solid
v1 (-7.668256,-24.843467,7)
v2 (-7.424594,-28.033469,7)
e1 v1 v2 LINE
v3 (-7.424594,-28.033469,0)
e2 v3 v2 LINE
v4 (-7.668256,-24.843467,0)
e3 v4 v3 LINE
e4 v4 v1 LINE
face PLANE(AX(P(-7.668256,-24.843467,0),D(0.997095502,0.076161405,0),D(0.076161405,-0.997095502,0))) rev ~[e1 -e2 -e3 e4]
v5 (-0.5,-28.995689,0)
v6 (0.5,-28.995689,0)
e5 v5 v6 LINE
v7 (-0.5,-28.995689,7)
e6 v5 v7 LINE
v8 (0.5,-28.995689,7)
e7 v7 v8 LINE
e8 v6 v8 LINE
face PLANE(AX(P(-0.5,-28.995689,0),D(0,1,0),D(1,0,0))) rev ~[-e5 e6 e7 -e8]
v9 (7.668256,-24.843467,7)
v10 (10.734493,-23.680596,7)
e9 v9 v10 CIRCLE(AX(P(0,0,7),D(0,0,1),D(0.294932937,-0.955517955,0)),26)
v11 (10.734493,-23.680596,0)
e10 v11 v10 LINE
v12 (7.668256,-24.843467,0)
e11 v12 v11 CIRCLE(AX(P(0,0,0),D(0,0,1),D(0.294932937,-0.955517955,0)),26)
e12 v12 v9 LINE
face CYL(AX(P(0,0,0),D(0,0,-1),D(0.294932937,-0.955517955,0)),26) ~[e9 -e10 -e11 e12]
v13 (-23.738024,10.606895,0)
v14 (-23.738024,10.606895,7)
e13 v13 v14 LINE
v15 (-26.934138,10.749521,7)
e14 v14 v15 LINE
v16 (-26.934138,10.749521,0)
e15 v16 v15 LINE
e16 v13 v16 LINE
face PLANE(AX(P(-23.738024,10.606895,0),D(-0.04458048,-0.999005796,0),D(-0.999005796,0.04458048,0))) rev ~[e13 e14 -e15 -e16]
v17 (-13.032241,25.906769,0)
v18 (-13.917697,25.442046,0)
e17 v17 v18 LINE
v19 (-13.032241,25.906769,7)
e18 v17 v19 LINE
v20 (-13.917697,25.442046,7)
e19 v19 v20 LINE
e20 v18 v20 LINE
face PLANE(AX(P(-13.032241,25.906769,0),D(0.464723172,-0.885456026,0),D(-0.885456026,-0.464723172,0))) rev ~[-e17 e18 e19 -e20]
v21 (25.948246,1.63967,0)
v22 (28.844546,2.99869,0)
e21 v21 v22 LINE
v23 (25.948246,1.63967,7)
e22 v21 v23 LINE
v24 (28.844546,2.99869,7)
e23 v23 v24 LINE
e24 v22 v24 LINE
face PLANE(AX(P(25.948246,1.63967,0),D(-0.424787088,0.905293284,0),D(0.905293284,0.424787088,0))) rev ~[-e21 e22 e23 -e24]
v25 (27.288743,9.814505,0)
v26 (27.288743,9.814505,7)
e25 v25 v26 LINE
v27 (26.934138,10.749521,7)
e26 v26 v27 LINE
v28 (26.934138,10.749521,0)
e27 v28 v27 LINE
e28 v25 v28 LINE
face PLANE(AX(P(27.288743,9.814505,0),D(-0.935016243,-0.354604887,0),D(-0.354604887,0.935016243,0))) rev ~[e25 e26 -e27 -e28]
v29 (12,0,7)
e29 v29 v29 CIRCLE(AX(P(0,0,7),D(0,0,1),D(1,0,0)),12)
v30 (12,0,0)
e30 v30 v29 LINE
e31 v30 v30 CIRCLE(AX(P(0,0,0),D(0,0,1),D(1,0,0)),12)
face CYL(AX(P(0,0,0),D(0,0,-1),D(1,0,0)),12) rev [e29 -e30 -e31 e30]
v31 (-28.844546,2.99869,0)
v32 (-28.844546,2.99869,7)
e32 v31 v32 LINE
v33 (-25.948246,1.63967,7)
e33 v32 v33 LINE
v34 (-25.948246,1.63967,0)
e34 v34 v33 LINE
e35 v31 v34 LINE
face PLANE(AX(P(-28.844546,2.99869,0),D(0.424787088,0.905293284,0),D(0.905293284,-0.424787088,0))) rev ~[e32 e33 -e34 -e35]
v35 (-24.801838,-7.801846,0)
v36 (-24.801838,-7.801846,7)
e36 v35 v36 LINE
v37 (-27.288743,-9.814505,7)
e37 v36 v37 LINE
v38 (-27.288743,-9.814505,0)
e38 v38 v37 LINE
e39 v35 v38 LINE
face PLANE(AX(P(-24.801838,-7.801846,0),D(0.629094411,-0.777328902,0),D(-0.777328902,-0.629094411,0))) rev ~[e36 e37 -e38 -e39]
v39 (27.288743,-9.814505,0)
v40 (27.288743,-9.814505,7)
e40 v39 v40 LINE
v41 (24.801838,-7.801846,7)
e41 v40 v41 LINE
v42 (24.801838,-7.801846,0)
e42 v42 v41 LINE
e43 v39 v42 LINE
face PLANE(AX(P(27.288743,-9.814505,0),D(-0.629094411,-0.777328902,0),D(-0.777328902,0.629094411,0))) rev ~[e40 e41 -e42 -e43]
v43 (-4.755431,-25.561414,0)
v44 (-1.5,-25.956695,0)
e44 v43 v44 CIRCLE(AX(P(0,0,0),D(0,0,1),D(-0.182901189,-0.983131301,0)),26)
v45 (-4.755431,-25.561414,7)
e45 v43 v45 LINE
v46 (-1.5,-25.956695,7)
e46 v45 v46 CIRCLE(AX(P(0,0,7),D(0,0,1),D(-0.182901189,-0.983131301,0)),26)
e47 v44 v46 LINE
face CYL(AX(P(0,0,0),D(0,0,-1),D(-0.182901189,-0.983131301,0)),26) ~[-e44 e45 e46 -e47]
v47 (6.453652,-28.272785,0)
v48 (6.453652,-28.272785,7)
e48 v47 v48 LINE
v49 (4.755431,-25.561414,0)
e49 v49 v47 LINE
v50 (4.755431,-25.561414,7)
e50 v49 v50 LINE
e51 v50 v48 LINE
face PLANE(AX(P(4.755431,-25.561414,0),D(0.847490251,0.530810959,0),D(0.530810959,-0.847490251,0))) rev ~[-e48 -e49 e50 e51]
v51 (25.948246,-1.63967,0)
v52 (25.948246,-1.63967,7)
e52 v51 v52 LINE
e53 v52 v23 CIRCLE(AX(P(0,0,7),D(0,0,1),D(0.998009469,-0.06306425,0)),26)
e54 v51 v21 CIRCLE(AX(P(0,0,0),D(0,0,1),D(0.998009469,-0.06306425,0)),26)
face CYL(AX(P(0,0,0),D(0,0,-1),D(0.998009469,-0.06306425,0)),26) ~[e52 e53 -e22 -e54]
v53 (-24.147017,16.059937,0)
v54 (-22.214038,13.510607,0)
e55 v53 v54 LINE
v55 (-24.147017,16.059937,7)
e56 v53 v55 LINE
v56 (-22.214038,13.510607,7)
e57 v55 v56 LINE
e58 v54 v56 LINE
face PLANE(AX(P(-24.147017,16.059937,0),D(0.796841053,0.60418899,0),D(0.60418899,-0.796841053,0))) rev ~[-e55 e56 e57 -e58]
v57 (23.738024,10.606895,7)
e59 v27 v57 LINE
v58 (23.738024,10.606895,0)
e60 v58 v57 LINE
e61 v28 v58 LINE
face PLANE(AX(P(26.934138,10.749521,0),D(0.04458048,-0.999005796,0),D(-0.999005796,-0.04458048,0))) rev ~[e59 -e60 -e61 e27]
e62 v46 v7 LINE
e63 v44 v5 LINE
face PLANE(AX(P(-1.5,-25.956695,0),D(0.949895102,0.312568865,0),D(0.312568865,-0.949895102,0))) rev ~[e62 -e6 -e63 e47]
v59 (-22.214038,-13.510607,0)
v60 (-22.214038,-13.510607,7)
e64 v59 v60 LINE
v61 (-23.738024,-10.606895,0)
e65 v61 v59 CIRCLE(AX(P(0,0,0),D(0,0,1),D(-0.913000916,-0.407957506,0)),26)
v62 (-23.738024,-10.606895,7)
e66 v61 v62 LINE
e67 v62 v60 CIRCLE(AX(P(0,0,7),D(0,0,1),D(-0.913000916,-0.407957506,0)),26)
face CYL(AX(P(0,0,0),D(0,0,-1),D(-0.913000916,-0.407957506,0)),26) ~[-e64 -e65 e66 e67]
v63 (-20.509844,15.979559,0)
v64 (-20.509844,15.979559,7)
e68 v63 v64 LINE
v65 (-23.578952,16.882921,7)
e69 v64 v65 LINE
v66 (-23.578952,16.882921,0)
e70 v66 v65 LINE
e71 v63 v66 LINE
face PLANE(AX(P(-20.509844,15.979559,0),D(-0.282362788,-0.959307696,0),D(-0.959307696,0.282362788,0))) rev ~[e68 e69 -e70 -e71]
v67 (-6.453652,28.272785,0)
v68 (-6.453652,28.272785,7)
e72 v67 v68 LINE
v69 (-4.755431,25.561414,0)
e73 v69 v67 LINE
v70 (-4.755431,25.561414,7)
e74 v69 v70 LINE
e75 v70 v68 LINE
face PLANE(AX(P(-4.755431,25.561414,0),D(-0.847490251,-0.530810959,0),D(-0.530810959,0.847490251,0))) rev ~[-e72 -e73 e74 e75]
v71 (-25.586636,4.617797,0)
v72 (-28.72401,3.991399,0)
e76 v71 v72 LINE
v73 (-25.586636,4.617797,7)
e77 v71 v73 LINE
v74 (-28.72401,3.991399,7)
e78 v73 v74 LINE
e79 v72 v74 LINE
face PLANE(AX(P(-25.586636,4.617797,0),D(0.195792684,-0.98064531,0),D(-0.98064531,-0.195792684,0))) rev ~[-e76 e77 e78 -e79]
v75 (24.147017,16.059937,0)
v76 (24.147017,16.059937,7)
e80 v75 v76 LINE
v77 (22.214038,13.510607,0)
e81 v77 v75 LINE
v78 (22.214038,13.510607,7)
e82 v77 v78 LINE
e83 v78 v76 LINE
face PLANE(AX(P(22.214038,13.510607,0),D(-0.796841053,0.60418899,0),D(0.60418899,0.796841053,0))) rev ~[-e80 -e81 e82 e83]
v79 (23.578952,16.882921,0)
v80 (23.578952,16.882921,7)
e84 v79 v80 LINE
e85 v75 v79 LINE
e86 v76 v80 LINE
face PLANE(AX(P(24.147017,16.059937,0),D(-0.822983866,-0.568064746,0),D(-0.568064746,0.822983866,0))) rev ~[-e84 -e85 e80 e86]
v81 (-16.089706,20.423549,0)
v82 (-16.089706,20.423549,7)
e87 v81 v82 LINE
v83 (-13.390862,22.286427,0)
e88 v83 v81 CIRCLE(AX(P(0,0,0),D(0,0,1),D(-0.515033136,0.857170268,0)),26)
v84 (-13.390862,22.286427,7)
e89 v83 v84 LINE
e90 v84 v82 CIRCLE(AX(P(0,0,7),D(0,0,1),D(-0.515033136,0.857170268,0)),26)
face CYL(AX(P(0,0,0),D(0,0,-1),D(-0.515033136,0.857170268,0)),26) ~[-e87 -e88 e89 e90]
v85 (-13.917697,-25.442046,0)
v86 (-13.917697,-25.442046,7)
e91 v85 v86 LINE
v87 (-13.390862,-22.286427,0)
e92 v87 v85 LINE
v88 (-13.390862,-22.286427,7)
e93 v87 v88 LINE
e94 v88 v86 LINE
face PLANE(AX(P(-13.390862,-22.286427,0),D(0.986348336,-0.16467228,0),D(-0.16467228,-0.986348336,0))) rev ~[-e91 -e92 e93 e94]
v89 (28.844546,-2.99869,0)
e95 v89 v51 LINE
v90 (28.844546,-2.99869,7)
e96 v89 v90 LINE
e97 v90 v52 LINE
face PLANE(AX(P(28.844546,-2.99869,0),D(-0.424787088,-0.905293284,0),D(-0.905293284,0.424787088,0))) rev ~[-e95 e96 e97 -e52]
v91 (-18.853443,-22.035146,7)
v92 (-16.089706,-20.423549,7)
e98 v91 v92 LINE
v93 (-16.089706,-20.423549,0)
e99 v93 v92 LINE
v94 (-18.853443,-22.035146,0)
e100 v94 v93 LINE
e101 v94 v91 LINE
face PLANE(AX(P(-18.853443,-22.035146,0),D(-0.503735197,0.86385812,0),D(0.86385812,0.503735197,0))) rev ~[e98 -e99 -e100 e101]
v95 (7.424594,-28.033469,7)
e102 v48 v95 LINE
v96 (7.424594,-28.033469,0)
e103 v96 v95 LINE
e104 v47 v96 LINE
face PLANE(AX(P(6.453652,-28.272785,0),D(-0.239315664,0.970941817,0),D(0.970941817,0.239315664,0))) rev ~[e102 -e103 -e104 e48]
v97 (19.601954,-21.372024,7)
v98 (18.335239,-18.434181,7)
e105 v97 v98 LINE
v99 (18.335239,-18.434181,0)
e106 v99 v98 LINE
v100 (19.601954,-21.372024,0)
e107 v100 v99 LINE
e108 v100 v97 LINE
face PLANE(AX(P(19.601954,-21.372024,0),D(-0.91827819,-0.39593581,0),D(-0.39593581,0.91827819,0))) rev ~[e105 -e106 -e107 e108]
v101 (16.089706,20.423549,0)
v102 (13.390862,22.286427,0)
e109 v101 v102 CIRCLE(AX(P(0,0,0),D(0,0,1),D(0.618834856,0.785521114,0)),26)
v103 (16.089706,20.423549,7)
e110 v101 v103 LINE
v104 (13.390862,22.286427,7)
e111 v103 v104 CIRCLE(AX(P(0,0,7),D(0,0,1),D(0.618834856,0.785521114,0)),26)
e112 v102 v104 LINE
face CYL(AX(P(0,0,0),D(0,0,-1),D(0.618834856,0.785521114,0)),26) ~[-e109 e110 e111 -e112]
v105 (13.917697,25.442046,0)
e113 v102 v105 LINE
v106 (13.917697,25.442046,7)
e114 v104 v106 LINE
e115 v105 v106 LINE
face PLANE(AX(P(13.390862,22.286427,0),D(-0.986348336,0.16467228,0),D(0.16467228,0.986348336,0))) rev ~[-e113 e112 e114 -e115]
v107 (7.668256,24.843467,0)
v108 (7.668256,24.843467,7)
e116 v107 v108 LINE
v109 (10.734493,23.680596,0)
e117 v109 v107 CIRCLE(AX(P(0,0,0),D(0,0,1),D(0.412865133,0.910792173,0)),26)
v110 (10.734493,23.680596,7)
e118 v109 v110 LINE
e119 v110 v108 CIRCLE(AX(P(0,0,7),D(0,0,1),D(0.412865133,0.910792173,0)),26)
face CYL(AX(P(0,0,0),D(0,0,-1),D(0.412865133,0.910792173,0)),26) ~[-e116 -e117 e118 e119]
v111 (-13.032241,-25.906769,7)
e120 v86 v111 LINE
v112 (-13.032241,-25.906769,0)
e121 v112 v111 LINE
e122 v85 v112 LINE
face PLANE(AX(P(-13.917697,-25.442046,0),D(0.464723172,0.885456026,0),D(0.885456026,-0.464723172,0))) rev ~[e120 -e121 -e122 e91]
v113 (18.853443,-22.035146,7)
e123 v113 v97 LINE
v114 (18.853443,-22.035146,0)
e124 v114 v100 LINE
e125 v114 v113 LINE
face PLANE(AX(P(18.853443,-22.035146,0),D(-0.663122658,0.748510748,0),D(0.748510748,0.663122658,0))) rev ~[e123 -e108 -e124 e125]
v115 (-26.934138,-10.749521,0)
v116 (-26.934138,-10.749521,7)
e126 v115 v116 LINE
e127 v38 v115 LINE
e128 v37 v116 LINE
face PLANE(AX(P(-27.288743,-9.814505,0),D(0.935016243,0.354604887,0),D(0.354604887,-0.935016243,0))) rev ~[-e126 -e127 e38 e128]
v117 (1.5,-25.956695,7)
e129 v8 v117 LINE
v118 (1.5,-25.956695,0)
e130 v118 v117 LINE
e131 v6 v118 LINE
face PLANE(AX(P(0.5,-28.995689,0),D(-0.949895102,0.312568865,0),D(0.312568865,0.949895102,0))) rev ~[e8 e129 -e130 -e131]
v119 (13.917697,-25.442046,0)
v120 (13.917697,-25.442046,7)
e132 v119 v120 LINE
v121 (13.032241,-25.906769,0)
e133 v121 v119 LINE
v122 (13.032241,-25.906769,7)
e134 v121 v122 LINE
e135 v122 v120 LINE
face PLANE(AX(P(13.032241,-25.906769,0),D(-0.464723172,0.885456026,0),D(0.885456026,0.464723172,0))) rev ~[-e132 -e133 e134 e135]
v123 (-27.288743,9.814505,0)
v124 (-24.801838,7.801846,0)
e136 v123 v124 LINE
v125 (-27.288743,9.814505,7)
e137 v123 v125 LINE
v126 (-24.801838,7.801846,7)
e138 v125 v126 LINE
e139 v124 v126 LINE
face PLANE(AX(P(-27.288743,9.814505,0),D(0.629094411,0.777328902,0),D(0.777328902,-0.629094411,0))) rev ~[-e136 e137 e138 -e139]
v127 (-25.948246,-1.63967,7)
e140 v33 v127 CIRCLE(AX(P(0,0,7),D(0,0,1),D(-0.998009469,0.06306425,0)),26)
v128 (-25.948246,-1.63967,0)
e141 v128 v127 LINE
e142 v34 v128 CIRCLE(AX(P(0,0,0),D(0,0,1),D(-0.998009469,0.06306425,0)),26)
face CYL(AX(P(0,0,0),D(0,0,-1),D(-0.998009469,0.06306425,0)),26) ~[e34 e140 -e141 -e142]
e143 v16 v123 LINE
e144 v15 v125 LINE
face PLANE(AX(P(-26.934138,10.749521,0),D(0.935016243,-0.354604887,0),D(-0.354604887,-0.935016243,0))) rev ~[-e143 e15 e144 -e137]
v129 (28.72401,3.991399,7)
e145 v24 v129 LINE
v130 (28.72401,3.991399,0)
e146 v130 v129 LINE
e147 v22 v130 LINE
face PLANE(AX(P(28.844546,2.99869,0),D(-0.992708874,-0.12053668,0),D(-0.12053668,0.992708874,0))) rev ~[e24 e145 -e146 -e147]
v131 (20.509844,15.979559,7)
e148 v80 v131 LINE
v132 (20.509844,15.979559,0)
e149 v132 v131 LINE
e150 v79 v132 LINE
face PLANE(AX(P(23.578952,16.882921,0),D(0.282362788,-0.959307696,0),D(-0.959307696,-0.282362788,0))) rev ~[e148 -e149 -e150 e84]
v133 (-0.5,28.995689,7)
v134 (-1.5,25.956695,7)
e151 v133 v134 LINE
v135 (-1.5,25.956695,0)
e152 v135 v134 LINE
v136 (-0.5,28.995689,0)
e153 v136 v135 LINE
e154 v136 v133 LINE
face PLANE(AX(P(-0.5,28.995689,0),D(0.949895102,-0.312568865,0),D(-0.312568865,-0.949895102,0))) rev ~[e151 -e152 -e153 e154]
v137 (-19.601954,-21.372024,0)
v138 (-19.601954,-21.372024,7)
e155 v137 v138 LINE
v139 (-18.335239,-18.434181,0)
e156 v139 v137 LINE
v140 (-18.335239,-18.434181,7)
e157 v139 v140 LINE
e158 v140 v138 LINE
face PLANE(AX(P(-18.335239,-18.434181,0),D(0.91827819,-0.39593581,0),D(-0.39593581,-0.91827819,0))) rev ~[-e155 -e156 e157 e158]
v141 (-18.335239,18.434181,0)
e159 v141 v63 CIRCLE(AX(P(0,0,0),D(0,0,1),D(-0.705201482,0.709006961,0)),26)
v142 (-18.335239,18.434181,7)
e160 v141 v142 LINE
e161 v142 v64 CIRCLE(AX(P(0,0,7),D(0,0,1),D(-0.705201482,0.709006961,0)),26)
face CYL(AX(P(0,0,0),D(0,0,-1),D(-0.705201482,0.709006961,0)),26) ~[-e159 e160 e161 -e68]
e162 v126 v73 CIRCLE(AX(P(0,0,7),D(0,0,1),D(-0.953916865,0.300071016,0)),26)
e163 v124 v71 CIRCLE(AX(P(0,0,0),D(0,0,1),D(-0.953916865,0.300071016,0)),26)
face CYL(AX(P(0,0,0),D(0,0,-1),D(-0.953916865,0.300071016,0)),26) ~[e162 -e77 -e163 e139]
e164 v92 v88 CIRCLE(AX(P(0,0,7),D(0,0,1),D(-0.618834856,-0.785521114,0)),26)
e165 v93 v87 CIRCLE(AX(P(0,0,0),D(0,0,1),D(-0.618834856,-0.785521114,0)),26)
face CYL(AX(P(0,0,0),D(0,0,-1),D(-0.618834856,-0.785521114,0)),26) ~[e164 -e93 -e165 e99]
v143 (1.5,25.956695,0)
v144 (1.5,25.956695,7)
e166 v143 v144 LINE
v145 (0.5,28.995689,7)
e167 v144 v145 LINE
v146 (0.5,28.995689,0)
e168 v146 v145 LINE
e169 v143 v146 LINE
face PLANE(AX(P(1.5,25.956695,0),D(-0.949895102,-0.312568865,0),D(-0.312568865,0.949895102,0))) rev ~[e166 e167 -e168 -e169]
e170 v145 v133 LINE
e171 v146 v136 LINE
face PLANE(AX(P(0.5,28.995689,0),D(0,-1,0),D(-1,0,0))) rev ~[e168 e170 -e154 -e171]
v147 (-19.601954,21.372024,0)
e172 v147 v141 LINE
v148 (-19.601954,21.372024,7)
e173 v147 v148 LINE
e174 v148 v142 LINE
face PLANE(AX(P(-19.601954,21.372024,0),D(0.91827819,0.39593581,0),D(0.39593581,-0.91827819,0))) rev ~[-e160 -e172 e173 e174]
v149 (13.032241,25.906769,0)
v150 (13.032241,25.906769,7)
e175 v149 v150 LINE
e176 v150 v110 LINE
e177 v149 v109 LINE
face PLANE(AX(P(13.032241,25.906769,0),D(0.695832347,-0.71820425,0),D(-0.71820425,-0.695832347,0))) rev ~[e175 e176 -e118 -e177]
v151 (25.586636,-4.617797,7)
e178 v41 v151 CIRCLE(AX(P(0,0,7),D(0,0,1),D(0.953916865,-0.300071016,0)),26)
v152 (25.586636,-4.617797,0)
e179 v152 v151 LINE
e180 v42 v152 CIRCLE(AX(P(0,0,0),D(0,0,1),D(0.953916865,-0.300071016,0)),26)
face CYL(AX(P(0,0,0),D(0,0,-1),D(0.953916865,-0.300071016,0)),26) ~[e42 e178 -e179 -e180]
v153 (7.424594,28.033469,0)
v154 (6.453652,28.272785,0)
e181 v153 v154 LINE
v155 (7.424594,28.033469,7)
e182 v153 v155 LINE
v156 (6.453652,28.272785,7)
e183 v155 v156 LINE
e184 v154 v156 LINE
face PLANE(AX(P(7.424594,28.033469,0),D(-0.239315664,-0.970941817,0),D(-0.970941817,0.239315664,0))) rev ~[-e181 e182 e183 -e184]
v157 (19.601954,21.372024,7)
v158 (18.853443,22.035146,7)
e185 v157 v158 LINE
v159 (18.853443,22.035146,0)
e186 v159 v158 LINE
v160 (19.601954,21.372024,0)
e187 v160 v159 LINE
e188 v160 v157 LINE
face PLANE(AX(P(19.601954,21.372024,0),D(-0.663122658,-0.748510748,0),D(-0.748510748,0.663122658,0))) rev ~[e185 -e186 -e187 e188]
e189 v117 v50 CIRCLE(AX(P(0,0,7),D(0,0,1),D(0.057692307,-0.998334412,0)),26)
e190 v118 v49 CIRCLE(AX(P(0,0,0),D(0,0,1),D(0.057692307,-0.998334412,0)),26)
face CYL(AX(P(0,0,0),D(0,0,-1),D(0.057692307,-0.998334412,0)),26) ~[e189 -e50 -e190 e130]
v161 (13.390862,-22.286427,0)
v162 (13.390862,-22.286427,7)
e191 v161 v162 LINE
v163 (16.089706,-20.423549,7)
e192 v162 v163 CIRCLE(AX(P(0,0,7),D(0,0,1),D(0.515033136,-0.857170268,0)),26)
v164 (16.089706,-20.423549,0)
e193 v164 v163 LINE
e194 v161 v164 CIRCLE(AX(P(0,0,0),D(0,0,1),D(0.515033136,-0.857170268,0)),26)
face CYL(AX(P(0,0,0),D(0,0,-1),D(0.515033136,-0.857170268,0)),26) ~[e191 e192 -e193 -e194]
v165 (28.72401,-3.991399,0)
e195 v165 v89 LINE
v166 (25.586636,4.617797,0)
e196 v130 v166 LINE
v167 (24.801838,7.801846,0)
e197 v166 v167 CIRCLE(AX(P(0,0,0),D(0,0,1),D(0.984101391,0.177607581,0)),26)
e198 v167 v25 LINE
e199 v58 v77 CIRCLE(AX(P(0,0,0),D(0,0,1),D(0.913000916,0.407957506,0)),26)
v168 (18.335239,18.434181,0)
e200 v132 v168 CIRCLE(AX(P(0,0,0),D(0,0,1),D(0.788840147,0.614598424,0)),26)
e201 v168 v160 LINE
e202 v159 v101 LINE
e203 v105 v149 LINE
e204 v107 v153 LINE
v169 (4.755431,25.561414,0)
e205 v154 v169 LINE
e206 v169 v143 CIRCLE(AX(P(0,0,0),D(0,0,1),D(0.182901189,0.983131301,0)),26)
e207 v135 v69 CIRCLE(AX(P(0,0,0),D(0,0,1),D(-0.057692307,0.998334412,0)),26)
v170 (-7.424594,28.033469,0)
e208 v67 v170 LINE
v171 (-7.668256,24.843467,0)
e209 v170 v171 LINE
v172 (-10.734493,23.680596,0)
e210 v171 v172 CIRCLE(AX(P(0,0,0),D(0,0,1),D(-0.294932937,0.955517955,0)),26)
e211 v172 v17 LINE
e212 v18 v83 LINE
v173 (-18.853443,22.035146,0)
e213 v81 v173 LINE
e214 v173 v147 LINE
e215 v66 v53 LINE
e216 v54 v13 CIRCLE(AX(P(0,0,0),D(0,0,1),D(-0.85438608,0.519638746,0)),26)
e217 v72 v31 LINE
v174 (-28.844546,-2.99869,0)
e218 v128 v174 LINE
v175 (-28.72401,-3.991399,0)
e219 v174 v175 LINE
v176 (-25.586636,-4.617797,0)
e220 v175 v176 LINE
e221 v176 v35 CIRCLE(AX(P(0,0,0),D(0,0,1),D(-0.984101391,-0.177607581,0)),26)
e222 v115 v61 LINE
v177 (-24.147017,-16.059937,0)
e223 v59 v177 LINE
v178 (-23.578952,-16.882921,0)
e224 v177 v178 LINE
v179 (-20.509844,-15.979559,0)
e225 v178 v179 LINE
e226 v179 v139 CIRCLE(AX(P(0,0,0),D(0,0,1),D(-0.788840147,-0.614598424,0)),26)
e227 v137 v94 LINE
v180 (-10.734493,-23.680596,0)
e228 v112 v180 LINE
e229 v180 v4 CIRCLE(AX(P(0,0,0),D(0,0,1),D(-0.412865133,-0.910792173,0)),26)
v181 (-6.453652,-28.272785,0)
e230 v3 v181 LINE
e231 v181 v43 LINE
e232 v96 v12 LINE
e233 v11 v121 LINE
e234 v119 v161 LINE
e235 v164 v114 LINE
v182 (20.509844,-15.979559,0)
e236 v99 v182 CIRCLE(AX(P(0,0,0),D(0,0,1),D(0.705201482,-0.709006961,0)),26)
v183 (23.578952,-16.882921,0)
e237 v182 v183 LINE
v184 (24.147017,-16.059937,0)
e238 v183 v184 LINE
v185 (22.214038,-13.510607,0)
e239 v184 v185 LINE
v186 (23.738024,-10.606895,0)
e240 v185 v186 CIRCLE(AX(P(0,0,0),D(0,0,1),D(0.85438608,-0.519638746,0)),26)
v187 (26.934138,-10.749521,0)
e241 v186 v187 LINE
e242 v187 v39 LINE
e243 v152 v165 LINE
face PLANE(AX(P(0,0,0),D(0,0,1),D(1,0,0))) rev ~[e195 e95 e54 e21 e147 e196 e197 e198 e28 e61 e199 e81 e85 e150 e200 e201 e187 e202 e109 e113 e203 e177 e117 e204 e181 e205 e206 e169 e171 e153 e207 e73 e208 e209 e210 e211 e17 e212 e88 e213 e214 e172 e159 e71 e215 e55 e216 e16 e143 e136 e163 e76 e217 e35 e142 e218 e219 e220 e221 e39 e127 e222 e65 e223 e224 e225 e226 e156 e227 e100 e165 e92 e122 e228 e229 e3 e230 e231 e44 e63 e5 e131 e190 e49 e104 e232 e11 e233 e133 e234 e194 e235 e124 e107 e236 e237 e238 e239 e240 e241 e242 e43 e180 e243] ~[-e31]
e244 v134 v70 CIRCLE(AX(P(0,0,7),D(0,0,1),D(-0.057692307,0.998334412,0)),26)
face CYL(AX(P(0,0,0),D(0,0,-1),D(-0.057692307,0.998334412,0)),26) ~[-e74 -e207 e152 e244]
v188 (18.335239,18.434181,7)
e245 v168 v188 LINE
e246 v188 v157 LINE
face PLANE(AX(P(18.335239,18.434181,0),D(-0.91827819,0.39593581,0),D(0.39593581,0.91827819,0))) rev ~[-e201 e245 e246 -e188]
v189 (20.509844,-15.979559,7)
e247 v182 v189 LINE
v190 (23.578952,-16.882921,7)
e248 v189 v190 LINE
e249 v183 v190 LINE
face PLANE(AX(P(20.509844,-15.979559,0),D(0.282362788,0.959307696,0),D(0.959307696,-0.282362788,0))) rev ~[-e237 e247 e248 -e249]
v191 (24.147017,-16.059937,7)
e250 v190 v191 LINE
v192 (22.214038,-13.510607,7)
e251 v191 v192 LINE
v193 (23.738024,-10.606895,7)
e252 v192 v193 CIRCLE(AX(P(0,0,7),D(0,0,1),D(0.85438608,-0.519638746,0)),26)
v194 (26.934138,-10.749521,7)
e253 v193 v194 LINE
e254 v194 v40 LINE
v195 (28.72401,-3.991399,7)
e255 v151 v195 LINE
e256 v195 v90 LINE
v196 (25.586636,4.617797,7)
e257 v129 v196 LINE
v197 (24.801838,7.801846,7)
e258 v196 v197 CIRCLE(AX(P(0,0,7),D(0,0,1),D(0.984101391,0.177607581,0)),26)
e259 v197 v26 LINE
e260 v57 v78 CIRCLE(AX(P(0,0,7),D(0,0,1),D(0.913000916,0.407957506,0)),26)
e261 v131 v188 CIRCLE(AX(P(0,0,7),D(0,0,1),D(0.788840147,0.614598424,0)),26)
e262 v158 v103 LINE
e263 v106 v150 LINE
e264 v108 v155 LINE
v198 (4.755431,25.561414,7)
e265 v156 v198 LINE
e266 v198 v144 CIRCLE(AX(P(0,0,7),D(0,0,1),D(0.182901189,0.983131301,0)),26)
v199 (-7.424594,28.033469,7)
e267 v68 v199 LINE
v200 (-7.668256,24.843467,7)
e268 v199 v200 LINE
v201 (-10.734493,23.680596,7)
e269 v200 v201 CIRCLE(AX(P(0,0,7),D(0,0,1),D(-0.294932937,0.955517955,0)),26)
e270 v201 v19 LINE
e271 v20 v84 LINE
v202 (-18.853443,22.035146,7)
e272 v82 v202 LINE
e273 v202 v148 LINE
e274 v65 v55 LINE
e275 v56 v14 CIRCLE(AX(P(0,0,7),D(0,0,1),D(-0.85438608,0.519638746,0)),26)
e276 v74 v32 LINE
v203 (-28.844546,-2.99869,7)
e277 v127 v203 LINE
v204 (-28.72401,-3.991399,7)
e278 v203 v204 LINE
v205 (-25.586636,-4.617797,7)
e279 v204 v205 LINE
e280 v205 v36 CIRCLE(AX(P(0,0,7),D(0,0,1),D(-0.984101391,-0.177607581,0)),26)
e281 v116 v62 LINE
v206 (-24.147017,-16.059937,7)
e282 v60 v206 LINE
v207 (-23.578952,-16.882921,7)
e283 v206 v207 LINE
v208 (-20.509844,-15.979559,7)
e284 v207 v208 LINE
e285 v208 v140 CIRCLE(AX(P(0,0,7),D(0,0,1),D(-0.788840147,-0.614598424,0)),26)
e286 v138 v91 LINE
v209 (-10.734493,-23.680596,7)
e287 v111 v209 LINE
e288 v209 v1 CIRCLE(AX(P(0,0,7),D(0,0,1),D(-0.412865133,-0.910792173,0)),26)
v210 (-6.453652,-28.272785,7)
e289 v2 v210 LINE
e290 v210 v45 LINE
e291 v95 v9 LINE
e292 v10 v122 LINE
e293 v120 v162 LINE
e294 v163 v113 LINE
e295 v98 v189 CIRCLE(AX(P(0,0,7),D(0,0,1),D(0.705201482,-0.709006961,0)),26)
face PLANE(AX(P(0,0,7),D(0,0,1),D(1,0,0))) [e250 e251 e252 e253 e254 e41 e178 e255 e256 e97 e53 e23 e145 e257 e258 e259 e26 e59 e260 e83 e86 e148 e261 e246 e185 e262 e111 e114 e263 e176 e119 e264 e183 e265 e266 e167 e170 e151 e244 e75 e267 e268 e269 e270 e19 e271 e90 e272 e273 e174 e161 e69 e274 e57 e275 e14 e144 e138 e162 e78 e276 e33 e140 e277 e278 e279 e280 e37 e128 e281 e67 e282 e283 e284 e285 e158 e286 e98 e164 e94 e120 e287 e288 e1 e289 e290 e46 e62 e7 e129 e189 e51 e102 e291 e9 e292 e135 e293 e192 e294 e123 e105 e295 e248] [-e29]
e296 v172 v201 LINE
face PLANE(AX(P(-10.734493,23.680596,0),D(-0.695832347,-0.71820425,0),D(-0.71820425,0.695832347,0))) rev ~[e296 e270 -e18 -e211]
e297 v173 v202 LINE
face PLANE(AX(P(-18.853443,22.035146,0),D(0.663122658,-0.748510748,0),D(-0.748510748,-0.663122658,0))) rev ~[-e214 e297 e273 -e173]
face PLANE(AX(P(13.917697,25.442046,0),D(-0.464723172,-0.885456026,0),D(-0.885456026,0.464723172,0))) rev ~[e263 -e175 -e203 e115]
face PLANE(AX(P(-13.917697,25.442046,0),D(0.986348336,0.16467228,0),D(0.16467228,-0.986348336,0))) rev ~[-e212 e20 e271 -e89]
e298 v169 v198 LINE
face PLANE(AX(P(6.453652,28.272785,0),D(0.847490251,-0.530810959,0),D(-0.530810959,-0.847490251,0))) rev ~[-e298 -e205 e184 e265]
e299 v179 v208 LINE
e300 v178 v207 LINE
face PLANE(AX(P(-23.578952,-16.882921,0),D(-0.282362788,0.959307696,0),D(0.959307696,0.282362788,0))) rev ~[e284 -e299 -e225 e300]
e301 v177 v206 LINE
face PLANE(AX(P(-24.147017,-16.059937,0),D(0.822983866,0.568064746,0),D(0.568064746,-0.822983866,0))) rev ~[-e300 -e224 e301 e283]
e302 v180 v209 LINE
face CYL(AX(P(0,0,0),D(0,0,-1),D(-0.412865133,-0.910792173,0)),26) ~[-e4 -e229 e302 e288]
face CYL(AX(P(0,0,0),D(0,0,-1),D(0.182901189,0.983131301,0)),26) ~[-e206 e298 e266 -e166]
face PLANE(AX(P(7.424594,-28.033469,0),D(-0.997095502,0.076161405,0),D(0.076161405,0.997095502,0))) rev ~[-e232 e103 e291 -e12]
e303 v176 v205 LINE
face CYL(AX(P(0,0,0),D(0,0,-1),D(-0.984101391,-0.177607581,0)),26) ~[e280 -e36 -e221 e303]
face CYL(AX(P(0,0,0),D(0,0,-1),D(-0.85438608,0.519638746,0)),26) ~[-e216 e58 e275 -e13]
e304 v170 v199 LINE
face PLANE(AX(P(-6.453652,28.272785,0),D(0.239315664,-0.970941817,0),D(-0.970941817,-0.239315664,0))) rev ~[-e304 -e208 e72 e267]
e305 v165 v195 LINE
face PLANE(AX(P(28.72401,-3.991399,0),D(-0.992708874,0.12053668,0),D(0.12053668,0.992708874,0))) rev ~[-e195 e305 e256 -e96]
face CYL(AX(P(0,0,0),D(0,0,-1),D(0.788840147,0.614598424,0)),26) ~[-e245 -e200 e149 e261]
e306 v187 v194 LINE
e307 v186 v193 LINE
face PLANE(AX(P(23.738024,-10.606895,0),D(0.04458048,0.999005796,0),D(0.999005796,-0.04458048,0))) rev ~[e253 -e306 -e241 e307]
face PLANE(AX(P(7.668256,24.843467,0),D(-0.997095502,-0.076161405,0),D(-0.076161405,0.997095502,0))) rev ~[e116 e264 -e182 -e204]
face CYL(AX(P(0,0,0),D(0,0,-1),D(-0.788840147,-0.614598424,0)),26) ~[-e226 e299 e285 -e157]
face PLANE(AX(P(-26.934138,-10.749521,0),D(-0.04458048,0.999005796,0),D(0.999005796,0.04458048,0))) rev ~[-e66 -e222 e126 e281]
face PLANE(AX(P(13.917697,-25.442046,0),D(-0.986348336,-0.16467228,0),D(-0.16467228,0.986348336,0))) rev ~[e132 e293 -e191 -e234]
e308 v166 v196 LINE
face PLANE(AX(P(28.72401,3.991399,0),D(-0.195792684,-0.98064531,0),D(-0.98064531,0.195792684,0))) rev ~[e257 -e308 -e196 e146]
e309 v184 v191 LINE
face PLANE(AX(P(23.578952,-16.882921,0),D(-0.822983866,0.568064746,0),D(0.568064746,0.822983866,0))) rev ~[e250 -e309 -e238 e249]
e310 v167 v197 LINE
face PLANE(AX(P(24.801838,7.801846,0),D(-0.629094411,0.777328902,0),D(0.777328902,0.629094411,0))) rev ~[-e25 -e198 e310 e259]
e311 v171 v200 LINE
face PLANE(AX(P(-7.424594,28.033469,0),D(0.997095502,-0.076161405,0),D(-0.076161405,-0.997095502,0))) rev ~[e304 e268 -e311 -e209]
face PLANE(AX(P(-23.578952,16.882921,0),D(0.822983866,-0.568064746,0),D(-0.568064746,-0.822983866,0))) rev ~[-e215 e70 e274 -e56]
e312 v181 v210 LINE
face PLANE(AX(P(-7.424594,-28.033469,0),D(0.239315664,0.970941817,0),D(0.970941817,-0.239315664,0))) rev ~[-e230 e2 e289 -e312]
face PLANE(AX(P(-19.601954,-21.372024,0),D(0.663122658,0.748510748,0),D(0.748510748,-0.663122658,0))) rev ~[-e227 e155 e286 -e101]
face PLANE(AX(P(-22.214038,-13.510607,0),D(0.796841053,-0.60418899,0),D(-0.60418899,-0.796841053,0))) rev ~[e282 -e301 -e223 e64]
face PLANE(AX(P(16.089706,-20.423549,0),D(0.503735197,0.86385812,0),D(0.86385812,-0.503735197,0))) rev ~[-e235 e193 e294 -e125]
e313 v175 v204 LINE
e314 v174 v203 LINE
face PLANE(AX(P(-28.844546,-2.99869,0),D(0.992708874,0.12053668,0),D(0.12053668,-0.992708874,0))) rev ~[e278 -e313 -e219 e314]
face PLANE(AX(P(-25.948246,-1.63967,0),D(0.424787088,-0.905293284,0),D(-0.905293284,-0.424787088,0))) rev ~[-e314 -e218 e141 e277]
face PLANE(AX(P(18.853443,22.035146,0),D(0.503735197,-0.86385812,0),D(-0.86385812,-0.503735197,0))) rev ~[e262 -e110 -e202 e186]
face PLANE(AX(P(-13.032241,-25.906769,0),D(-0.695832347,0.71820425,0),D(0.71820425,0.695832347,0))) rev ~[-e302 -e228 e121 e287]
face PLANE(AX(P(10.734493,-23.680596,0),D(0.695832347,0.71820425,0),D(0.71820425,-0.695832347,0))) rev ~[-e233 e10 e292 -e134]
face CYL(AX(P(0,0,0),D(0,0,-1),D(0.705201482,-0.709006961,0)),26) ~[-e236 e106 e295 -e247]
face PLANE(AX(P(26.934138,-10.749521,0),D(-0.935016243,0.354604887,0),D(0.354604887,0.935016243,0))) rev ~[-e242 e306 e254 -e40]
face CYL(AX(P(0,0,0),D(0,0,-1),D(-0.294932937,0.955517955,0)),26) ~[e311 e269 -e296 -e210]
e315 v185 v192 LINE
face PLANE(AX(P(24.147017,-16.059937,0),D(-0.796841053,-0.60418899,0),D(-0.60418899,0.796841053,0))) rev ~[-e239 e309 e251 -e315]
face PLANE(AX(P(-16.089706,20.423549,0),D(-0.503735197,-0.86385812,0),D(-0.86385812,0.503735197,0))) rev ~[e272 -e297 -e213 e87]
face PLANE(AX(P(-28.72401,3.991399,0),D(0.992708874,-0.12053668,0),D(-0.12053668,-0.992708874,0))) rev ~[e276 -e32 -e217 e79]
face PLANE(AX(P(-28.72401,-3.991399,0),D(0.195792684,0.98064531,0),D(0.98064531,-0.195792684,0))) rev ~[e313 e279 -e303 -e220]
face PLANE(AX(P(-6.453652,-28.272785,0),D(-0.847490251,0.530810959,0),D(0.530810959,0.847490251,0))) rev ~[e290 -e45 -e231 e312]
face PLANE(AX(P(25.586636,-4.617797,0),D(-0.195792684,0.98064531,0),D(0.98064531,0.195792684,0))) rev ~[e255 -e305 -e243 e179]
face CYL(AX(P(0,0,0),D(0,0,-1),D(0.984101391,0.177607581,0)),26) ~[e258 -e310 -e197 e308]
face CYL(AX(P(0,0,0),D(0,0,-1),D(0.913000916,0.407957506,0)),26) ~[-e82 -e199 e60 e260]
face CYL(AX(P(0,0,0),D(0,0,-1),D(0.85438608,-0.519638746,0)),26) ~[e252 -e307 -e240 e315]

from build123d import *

# Parameters (mm, degrees)
SKETCH1_R           = 12
BOSS_EXTRUDE1_DEPTH = 7


with BuildPart() as part:
    # Sketch1 → Boss-Extrude1 (new body)
    with BuildSketch(Plane.XY):
        with BuildLine():
            Line((6.453651746, 28.272785132), (4.75543091, 25.561413828))
            ThreePointArc((4.75543091, 25.561413828), (3.133953687, 25.810430727), (1.5, 25.956694705))
            Line((1.5, 25.956694705), (0.5, 28.995689335))
            Line((0.5, 28.995689335), (-0.5, 28.995689335))
            Line((-0.5, 28.995689335), (-1.5, 25.956694705))
            ThreePointArc((-1.5, 25.956694705), (-3.133953687, 25.810430727), (-4.75543091, 25.561413828))
            Line((-4.75543091, 25.561413828), (-6.453651746, 28.272785132))
            Line((-6.453651746, 28.272785132), (-7.424593563, 28.033469468))
            Line((-7.424593563, 28.033469468), (-7.668256362, 24.843466835))
            ThreePointArc((-7.668256362, 24.843466835), (-9.219727063, 24.31042231), (-10.734493461, 23.680596491))
            Line((-10.734493461, 23.680596491), (-13.03224071, 25.906769425))
            Line((-13.03224071, 25.906769425), (-13.917696736, 25.442046253))
            Line((-13.917696736, 25.442046253), (-13.390861537, 22.286426974))
            ThreePointArc((-13.390861537, 22.286426974), (-14.769683415, 21.397580513), (-16.08970627, 20.423548961))
            Line((-16.08970627, 20.423548961), (-18.853443215, 22.035146447))
            Line((-18.853443215, 22.035146447), (-19.601953963, 21.372023789))
            Line((-19.601953963, 21.372023789), (-18.335238514, 18.434180986))
            ThreePointArc((-18.335238514, 18.434180986), (-19.461279452, 17.241189114), (-20.509843834, 15.979559002))
            Line((-20.509843834, 15.979559002), (-23.57895213, 16.882920851))
            Line((-23.57895213, 16.882920851), (-24.147016876, 16.059936985))
            Line((-24.147016876, 16.059936985), (-22.214038074, 13.510607405))
            ThreePointArc((-22.214038074, 13.510607405), (-23.021856667, 12.082802473), (-23.738023825, 10.606895158))
            Line((-23.738023825, 10.606895158), (-26.934138052, 10.749521263))
            Line((-26.934138052, 10.749521263), (-27.288742939, 9.81450502))
            Line((-27.288742939, 9.81450502), (-24.801838486, 7.80184643))
            ThreePointArc((-24.801838486, 7.80184643), (-25.244487253, 6.222207271), (-25.586636155, 4.617797121))
            Line((-25.586636155, 4.617797121), (-28.724009773, 3.991398571))
            Line((-28.724009773, 3.991398571), (-28.844546453, 2.998689697))
            Line((-28.844546453, 2.998689697), (-25.948246196, 1.639670499))
            ThreePointArc((-25.948246196, 1.639670499), (-26, 0), (-25.948246196, -1.639670499))
            Line((-25.948246196, -1.639670499), (-28.844546453, -2.998689697))
            Line((-28.844546453, -2.998689697), (-28.724009773, -3.991398571))
            Line((-28.724009773, -3.991398571), (-25.586636155, -4.617797121))
            ThreePointArc((-25.586636155, -4.617797121), (-25.244487253, -6.222207271), (-24.801838486, -7.80184643))
            Line((-24.801838486, -7.80184643), (-27.288742939, -9.81450502))
            Line((-27.288742939, -9.81450502), (-26.934138052, -10.749521263))
            Line((-26.934138052, -10.749521263), (-23.738023825, -10.606895158))
            ThreePointArc((-23.738023825, -10.606895158), (-23.021856667, -12.082802473), (-22.214038074, -13.510607405))
            Line((-22.214038074, -13.510607405), (-24.147016876, -16.059936985))
            Line((-24.147016876, -16.059936985), (-23.57895213, -16.882920851))
            Line((-23.57895213, -16.882920851), (-20.509843834, -15.979559002))
            ThreePointArc((-20.509843834, -15.979559002), (-19.461279452, -17.241189114), (-18.335238514, -18.434180986))
            Line((-18.335238514, -18.434180986), (-19.601953963, -21.372023789))
            Line((-19.601953963, -21.372023789), (-18.853443215, -22.035146447))
            Line((-18.853443215, -22.035146447), (-16.08970627, -20.423548961))
            ThreePointArc((-16.08970627, -20.423548961), (-14.769683415, -21.397580513), (-13.390861537, -22.286426974))
            Line((-13.390861537, -22.286426974), (-13.917696736, -25.442046253))
            Line((-13.917696736, -25.442046253), (-13.03224071, -25.906769425))
            Line((-13.03224071, -25.906769425), (-10.734493461, -23.680596491))
            ThreePointArc((-10.734493461, -23.680596491), (-9.219727063, -24.31042231), (-7.668256362, -24.843466835))
            Line((-7.668256362, -24.843466835), (-7.424593563, -28.033469468))
            Line((-7.424593563, -28.033469468), (-6.453651746, -28.272785132))
            Line((-6.453651746, -28.272785132), (-4.75543091, -25.561413828))
            ThreePointArc((-4.75543091, -25.561413828), (-3.133953687, -25.810430727), (-1.5, -25.956694705))
            Line((-1.5, -25.956694705), (-0.5, -28.995689335))
            Line((-0.5, -28.995689335), (0.5, -28.995689335))
            Line((0.5, -28.995689335), (1.5, -25.956694705))
            ThreePointArc((1.5, -25.956694705), (3.133953687, -25.810430727), (4.75543091, -25.561413828))
            Line((4.75543091, -25.561413828), (6.453651746, -28.272785132))
            Line((6.453651746, -28.272785132), (7.424593563, -28.033469468))
            Line((7.424593563, -28.033469468), (7.668256362, -24.843466835))
            ThreePointArc((7.668256362, -24.843466835), (9.219727063, -24.31042231), (10.734493461, -23.680596491))
            Line((10.734493461, -23.680596491), (13.03224071, -25.906769425))
            Line((13.03224071, -25.906769425), (13.917696736, -25.442046253))
            Line((13.917696736, -25.442046253), (13.390861537, -22.286426974))
            ThreePointArc((13.390861537, -22.286426974), (14.769683415, -21.397580513), (16.08970627, -20.423548961))
            Line((16.08970627, -20.423548961), (18.853443215, -22.035146447))
            Line((18.853443215, -22.035146447), (19.601953963, -21.372023789))
            Line((19.601953963, -21.372023789), (18.335238514, -18.434180986))
            ThreePointArc((18.335238514, -18.434180986), (19.461279452, -17.241189114), (20.509843834, -15.979559002))
            Line((20.509843834, -15.979559002), (23.57895213, -16.882920851))
            Line((23.57895213, -16.882920851), (24.147016876, -16.059936985))
            Line((24.147016876, -16.059936985), (22.214038074, -13.510607405))
            ThreePointArc((22.214038074, -13.510607405), (23.021856667, -12.082802473), (23.738023825, -10.606895158))
            Line((23.738023825, -10.606895158), (26.934138052, -10.749521263))
            Line((26.934138052, -10.749521263), (27.288742939, -9.81450502))
            Line((27.288742939, -9.81450502), (24.801838486, -7.80184643))
            ThreePointArc((24.801838486, -7.80184643), (25.244487253, -6.222207271), (25.586636155, -4.617797121))
            Line((25.586636155, -4.617797121), (28.724009773, -3.991398571))
            Line((28.724009773, -3.991398571), (28.844546453, -2.998689697))
            Line((28.844546453, -2.998689697), (25.948246196, -1.639670499))
            ThreePointArc((25.948246196, -1.639670499), (26, 0), (25.948246196, 1.639670499))
            Line((25.948246196, 1.639670499), (28.844546453, 2.998689697))
            Line((28.844546453, 2.998689697), (28.724009773, 3.991398571))
            Line((28.724009773, 3.991398571), (25.586636155, 4.617797121))
            ThreePointArc((25.586636155, 4.617797121), (25.244487253, 6.222207271), (24.801838486, 7.80184643))
            Line((24.801838486, 7.80184643), (27.288742939, 9.81450502))
            Line((27.288742939, 9.81450502), (26.934138052, 10.749521263))
            Line((26.934138052, 10.749521263), (23.738023825, 10.606895158))
            ThreePointArc((23.738023825, 10.606895158), (23.021856667, 12.082802473), (22.214038074, 13.510607405))
            Line((22.214038074, 13.510607405), (24.147016876, 16.059936985))
            Line((24.147016876, 16.059936985), (23.57895213, 16.882920851))
            Line((23.57895213, 16.882920851), (20.509843834, 15.979559002))
            ThreePointArc((20.509843834, 15.979559002), (19.461279452, 17.241189114), (18.335238514, 18.434180986))
            Line((18.335238514, 18.434180986), (19.601953963, 21.372023789))
            Line((19.601953963, 21.372023789), (18.853443215, 22.035146447))
            Line((18.853443215, 22.035146447), (16.08970627, 20.423548961))
            ThreePointArc((16.08970627, 20.423548961), (14.769683415, 21.397580513), (13.390861537, 22.286426974))
            Line((13.390861537, 22.286426974), (13.917696736, 25.442046253))
            Line((13.917696736, 25.442046253), (13.03224071, 25.906769425))
            Line((13.03224071, 25.906769425), (10.734493461, 23.680596491))
            ThreePointArc((10.734493461, 23.680596491), (9.219727063, 24.31042231), (7.668256362, 24.843466835))
            Line((7.668256362, 24.843466835), (7.424593563, 28.033469468))
            Line((7.424593563, 28.033469468), (6.453651746, 28.272785132))
        make_face()
        Circle(SKETCH1_R, mode=Mode.SUBTRACT)
    extrude(amount=BOSS_EXTRUDE1_DEPTH)


solid = part.part
